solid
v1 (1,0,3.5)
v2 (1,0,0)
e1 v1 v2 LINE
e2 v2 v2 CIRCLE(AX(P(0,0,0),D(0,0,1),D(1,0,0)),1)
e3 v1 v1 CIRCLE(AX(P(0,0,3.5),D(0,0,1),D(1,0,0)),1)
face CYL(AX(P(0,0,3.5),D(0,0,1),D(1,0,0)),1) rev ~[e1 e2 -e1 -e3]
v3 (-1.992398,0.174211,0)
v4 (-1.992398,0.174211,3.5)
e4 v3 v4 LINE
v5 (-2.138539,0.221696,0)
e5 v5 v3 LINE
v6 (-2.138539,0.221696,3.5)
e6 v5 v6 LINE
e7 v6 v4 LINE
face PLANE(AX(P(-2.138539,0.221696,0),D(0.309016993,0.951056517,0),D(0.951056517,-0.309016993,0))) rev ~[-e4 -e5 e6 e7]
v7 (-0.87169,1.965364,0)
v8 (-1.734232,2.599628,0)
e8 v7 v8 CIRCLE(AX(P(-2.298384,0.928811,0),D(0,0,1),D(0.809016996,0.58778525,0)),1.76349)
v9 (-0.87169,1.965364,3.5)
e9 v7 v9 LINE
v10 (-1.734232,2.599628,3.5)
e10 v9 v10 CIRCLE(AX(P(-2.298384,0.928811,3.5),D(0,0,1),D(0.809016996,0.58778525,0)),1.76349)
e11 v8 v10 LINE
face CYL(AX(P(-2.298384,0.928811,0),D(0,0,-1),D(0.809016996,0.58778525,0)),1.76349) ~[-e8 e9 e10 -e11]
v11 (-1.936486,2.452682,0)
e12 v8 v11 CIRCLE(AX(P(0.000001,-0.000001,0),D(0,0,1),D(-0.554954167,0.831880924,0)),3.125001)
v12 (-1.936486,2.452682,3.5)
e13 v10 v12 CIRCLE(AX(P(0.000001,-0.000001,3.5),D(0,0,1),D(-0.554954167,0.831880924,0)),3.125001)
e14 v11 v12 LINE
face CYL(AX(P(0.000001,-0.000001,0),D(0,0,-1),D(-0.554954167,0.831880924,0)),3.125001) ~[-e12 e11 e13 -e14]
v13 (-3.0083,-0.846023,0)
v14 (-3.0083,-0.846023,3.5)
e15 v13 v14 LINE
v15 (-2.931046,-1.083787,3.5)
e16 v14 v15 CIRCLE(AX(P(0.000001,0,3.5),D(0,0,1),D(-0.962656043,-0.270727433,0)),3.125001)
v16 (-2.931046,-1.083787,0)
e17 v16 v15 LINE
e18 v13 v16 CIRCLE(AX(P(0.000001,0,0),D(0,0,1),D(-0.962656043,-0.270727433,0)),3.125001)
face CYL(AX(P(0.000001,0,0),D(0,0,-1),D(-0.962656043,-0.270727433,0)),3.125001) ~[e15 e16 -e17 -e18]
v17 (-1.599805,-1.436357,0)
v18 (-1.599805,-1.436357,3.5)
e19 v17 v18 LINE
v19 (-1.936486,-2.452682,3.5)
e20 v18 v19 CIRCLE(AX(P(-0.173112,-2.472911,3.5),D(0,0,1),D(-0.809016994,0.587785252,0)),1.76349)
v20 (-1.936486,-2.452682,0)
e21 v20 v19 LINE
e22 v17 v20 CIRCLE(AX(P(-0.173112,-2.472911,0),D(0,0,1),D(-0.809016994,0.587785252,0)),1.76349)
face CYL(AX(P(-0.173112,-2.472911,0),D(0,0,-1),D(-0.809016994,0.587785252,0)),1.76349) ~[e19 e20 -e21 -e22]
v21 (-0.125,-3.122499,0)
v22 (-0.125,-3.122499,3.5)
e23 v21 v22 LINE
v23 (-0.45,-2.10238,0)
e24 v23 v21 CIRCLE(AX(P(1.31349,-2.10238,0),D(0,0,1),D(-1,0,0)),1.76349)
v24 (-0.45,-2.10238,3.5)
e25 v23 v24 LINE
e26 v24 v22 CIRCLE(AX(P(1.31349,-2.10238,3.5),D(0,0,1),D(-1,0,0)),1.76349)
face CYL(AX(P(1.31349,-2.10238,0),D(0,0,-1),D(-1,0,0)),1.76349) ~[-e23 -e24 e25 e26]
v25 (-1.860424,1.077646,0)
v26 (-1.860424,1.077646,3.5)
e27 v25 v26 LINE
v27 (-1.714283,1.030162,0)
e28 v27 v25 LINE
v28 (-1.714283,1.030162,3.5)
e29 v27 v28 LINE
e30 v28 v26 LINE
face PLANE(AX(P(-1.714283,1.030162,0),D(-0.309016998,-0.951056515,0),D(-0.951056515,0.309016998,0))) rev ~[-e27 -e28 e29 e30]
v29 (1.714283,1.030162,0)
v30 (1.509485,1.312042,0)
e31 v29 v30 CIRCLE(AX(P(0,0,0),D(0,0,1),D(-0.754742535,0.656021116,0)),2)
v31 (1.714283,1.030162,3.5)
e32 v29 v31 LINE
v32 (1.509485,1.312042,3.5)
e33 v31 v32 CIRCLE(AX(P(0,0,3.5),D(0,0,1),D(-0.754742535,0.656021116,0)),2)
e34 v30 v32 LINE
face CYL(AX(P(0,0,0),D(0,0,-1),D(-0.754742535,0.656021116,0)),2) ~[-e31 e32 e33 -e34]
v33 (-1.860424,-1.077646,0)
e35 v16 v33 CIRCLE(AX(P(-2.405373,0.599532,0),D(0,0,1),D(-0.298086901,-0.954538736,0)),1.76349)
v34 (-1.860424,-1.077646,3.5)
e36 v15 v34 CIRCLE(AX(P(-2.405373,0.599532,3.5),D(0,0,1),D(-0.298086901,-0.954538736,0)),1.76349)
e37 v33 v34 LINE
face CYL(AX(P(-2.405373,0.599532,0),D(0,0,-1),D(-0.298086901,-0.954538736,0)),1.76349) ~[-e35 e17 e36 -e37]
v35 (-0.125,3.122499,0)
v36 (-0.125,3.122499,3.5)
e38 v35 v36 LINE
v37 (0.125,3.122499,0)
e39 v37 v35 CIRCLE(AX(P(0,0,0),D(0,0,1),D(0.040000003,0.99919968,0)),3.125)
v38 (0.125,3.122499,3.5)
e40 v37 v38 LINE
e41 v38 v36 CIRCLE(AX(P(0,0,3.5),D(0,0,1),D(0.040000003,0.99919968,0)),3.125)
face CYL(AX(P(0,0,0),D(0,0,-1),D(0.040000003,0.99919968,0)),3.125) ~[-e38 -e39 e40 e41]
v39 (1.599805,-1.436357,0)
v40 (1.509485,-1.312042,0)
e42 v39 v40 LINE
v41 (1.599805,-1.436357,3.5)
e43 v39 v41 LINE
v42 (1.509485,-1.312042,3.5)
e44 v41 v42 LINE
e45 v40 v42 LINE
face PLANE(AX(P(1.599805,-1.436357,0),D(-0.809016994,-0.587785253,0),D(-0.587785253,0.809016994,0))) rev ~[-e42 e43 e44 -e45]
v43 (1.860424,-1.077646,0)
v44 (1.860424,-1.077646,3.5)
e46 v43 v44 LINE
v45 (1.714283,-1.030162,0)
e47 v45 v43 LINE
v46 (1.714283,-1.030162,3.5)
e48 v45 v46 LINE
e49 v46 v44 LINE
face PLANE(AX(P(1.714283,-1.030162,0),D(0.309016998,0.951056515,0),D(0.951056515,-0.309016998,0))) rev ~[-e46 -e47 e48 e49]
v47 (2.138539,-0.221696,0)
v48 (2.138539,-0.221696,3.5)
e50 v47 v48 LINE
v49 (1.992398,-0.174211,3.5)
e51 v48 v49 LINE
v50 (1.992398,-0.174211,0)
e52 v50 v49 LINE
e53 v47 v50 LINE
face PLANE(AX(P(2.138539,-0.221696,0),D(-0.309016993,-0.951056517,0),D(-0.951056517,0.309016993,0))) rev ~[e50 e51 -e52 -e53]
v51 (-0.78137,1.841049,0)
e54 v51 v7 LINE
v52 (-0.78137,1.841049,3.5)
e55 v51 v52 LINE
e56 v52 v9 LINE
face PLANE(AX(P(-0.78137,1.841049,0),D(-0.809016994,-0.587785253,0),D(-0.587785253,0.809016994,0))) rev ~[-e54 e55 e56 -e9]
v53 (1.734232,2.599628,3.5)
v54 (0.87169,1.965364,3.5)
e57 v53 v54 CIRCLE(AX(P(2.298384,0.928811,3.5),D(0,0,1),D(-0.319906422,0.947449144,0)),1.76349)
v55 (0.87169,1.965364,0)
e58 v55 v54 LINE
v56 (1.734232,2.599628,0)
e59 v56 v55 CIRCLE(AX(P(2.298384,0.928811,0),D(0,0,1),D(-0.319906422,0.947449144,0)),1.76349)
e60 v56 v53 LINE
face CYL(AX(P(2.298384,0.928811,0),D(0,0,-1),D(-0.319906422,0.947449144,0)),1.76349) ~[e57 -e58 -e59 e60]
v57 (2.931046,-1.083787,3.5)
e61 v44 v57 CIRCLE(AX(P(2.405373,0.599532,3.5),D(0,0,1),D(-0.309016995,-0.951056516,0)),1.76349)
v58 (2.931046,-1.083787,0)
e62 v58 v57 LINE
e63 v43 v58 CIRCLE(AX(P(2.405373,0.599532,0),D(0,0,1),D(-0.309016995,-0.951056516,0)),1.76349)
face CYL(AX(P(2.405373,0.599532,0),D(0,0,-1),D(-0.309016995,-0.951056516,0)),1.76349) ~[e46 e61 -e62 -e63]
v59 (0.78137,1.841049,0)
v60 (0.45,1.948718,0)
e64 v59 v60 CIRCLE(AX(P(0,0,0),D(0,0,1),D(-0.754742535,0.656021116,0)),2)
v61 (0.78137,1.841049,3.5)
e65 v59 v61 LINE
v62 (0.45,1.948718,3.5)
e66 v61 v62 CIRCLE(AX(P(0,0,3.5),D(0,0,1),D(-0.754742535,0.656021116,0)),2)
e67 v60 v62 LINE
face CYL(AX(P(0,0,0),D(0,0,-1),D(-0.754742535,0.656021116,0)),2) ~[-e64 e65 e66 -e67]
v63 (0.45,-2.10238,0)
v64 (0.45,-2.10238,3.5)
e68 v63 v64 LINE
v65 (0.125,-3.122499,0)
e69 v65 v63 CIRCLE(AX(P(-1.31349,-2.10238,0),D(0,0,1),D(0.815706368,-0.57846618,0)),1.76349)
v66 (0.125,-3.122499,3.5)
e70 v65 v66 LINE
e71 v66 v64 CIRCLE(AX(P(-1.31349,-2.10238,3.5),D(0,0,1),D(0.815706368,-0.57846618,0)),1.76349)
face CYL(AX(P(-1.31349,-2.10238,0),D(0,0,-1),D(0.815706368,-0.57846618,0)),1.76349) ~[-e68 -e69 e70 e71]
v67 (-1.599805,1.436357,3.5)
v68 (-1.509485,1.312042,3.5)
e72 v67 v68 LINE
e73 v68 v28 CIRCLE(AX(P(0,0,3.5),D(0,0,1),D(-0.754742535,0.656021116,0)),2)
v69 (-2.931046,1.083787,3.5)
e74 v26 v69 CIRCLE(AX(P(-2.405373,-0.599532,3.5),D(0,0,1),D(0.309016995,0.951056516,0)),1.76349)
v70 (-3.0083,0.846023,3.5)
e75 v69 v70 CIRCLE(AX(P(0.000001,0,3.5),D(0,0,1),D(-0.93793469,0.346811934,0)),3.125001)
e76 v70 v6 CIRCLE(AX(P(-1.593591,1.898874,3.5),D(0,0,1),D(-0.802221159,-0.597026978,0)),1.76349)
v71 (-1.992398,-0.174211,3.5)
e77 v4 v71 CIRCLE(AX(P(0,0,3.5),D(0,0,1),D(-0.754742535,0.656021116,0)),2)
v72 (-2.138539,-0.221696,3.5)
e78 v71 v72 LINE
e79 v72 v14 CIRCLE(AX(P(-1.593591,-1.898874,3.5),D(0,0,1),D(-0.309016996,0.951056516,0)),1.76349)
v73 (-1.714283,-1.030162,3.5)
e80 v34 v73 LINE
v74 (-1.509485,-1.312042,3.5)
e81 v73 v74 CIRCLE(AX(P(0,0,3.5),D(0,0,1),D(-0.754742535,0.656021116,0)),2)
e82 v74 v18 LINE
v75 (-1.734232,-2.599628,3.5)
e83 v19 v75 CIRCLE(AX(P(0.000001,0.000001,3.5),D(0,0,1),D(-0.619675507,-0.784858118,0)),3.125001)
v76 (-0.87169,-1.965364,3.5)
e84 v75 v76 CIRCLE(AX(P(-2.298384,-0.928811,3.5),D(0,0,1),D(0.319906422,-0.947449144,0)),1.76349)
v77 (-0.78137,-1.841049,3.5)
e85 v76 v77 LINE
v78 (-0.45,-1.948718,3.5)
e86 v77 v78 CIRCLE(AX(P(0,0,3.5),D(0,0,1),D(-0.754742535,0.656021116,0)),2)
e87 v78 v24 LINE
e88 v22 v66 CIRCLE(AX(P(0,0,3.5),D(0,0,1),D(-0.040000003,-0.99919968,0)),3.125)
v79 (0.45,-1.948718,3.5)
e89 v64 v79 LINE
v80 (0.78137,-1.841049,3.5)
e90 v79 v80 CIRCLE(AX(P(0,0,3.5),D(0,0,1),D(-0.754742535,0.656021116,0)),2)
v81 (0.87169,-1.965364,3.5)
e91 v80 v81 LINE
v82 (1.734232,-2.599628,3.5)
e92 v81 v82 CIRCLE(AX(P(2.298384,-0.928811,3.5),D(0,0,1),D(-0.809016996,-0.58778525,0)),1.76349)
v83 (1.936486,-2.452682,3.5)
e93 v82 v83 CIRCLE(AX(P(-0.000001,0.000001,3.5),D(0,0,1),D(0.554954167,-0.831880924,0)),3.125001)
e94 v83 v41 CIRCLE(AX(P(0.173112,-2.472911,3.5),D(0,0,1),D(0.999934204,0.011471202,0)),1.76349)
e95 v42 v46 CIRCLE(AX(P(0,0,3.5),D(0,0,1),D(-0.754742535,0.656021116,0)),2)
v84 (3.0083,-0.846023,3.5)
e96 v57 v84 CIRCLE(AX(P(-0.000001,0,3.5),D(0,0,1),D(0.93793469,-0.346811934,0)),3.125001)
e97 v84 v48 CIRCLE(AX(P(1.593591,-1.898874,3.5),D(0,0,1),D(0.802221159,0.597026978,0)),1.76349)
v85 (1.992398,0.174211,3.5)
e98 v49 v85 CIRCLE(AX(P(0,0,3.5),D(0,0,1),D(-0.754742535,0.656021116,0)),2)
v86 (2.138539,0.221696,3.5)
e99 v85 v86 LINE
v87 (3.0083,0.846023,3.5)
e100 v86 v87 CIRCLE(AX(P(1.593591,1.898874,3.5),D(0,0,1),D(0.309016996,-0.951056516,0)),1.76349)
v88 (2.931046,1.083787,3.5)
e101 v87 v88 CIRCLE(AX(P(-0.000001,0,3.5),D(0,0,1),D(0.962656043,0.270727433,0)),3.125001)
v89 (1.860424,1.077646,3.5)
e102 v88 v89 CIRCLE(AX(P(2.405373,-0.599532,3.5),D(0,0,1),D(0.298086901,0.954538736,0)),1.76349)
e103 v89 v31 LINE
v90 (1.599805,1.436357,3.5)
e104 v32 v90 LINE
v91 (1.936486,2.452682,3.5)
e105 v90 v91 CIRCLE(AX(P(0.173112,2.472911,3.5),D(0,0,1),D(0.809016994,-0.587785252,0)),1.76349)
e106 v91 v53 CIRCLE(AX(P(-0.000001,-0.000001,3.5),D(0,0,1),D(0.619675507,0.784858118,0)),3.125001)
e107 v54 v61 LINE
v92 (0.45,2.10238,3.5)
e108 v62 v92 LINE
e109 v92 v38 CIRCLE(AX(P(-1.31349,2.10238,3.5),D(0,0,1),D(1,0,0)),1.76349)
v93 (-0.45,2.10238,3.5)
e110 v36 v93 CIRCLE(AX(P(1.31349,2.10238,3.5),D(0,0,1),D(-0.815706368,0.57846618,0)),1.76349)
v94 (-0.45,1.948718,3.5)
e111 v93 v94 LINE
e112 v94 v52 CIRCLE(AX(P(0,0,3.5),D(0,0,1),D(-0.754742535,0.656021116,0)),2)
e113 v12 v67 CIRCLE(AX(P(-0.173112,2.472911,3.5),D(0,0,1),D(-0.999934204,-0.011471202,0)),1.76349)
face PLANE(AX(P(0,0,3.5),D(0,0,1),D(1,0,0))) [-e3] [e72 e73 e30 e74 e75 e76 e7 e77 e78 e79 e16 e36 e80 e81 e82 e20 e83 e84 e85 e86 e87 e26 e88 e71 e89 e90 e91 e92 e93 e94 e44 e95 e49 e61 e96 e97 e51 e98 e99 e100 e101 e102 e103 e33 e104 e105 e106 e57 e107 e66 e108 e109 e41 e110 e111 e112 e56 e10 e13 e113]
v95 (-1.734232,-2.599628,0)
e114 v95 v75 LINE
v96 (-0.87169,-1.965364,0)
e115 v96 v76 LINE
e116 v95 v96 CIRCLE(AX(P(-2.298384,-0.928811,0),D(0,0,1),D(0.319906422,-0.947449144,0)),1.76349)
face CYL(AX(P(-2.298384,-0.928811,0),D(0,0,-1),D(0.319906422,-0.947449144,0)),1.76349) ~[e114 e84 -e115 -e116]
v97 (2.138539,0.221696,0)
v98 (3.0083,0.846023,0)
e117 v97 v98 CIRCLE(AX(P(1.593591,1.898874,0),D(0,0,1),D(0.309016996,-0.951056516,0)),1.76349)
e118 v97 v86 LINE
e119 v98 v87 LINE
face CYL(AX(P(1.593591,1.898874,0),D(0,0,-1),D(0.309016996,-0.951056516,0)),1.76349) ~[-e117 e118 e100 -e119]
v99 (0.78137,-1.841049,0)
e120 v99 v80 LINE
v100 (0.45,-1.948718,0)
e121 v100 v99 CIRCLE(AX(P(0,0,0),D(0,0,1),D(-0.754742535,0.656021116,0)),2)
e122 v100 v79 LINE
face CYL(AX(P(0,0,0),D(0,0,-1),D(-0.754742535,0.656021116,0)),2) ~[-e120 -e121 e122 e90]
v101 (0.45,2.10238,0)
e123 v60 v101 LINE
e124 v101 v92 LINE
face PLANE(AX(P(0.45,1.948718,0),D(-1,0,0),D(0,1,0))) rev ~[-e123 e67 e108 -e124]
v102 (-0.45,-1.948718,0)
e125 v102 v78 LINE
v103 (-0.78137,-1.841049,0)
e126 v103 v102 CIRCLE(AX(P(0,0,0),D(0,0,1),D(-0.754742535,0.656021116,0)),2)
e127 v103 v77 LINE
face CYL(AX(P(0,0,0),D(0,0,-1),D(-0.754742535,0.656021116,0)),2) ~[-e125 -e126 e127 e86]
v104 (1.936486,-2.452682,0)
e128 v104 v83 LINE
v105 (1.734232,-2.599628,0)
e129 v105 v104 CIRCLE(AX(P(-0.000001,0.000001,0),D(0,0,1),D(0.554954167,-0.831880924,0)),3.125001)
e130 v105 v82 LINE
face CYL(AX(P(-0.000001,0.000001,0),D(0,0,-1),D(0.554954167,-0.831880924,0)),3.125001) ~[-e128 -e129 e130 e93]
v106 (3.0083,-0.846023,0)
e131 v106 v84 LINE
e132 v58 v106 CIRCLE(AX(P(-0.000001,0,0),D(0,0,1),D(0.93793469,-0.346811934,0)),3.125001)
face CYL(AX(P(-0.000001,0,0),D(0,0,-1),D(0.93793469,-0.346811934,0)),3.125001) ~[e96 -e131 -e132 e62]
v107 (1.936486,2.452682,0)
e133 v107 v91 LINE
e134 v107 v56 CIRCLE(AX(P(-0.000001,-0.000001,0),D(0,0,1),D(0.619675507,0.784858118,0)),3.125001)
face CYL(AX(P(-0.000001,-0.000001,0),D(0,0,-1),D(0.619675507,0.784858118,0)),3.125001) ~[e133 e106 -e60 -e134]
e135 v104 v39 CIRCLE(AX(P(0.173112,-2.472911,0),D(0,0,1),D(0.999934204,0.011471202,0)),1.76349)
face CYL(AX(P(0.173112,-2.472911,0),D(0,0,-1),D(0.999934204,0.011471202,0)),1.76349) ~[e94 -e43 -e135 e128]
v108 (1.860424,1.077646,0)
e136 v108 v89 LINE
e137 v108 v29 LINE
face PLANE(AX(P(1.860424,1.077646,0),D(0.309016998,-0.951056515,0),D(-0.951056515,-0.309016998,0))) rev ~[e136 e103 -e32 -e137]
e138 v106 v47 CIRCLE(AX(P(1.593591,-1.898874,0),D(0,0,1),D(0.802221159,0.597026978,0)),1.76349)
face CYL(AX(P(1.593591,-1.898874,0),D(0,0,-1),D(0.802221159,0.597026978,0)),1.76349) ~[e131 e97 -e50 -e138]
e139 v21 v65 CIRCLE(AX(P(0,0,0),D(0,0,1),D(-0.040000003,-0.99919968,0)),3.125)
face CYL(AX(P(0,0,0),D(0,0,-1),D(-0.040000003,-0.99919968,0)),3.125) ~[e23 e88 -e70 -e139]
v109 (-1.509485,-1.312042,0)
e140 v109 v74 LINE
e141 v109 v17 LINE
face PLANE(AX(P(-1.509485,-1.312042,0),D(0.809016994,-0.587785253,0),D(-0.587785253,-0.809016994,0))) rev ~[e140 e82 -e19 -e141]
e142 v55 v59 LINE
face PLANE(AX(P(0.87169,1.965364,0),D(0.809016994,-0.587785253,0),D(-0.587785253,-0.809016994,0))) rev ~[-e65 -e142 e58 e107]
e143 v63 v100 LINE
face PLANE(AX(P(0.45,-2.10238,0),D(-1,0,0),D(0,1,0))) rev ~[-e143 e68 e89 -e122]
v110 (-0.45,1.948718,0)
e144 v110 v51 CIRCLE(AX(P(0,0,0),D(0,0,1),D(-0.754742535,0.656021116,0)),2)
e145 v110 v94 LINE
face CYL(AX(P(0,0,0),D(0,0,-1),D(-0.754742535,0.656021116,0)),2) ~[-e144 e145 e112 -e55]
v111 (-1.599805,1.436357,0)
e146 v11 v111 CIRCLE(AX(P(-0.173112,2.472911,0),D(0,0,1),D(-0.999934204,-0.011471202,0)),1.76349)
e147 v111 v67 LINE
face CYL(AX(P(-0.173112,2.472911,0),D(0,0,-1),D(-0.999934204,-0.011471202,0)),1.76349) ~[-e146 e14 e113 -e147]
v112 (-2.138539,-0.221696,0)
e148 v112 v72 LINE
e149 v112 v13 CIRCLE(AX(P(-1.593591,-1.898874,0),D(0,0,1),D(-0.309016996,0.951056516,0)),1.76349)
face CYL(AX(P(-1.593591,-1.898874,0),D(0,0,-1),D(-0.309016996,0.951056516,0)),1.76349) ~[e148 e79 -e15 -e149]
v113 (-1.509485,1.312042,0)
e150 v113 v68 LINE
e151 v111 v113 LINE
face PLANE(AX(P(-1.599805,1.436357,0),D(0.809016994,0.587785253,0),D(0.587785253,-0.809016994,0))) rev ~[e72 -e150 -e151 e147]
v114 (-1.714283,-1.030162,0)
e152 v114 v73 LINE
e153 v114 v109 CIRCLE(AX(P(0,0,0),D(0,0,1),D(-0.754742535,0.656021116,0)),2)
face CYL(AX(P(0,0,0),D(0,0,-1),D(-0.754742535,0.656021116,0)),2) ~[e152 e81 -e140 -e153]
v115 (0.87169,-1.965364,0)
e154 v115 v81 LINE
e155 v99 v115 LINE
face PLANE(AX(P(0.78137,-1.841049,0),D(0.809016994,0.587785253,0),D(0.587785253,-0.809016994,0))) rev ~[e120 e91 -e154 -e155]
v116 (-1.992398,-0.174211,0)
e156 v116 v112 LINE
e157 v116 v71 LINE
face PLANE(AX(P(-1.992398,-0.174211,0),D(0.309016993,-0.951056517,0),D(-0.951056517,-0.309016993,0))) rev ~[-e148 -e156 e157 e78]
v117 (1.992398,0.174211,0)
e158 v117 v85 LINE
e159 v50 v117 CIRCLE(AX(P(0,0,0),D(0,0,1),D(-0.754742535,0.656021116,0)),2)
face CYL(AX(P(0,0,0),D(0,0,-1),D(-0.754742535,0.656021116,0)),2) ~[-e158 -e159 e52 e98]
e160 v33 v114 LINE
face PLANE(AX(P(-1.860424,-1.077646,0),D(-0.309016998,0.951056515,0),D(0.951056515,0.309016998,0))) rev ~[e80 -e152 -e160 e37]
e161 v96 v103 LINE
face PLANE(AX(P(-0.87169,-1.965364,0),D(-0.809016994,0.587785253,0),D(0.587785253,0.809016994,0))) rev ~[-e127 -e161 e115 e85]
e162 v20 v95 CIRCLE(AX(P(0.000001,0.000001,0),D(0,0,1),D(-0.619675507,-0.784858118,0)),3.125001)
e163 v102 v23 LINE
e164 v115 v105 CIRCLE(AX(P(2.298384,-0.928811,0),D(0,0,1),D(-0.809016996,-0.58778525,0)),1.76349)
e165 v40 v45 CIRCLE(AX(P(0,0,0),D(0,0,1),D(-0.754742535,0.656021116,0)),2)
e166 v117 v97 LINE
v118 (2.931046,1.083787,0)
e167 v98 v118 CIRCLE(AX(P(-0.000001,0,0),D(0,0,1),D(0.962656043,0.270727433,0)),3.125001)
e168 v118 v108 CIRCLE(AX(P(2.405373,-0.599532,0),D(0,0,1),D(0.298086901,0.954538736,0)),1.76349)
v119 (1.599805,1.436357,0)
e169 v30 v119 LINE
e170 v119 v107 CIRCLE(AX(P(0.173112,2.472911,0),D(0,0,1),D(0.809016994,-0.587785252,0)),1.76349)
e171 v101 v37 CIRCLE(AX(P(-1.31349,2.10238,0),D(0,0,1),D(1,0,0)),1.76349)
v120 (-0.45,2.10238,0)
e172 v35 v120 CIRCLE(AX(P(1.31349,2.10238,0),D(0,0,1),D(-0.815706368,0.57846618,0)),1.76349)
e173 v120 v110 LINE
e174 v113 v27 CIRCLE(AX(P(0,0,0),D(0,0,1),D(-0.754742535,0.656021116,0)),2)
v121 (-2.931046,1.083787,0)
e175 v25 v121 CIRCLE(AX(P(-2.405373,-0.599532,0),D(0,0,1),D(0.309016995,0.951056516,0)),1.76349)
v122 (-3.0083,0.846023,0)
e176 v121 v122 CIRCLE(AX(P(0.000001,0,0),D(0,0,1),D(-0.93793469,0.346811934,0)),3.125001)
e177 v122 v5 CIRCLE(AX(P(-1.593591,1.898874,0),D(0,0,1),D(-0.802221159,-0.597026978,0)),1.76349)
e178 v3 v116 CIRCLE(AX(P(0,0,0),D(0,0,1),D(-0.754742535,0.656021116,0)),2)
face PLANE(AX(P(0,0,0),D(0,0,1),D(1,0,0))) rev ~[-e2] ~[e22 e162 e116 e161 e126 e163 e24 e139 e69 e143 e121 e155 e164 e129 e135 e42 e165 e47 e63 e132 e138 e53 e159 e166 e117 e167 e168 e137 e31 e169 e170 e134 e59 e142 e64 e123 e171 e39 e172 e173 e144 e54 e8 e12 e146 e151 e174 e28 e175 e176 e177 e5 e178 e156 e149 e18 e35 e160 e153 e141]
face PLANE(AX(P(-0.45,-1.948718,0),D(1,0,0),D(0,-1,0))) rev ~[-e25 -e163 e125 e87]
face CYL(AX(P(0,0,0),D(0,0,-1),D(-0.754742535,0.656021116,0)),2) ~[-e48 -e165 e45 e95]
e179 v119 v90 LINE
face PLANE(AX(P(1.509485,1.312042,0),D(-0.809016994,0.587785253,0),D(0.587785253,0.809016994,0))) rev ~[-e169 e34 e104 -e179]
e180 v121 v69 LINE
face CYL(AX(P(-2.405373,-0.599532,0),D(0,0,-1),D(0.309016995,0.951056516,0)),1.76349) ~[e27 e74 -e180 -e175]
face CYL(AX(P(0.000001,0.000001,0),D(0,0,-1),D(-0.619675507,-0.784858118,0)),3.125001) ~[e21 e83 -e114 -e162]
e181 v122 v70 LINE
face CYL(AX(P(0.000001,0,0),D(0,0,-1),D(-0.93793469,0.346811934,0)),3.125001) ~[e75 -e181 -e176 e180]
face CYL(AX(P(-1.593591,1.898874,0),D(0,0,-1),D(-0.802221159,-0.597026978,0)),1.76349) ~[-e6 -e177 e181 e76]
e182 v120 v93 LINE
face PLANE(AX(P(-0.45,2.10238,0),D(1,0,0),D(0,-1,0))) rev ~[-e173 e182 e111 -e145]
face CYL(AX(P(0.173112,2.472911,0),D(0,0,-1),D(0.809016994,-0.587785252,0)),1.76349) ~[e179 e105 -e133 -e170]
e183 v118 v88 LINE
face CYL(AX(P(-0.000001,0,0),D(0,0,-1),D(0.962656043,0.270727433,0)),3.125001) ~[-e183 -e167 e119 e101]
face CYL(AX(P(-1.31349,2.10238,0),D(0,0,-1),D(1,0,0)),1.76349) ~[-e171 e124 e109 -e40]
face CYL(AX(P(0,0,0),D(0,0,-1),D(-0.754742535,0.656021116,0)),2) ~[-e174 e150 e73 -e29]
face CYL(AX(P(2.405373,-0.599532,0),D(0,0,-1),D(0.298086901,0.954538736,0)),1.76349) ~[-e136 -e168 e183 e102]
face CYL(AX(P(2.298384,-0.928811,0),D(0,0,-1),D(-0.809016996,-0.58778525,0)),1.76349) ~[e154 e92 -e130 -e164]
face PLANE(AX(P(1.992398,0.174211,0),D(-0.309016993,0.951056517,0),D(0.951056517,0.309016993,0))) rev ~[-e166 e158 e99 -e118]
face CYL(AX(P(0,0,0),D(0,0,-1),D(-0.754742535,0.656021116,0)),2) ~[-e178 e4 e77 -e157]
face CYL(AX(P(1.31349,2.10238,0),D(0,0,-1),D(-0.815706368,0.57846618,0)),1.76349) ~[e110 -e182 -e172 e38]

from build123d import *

# Parameters (mm, degrees)
ESBO_O1_R                = 2
RESSALTO_EXTRUS_O1_DEPTH = 3.5
ESBO_O2_R                = 1
CORTE_EXTRUS_O1_DEPTH    = 6.573642863


with BuildPart() as part:
    # Esboço1 → Ressalto-extrusão1 (new body)
    with BuildSketch(Plane.XY):
        Circle(ESBO_O1_R)
        with BuildLine():
            ThreePointArc((-1.509485071, 1.312042233), (-1.175570505, 1.618033989), (-0.781369776, 1.84104896))
            Line((-0.781369776, 1.84104896), (-0.871690079, 1.965364192))
            ThreePointArc((-0.871690079, 1.965364192), (-1.253664041, 2.349535361), (-1.734231738, 2.599627912))
            ThreePointArc((-1.734231738, 2.599627912), (-1.836828913, 2.528178107), (-1.936485986, 2.452681599))
            ThreePointArc((-1.936485986, 2.452681599), (-1.847137421, 1.918351711), (-1.599805374, 1.436357465))
            Line((-1.599805374, 1.436357465), (-1.509485071, 1.312042233))
        make_face()
        with BuildLine():
            ThreePointArc((-0.45, 1.948717527), (0, 2), (0.45, 1.948717527))
            Line((0.45, 1.948717527), (0.45, 2.102379604))
            ThreePointArc((0.45, 2.102379604), (0.36678672, 2.63769927), (0.125, 3.122498999))
            ThreePointArc((0.125, 3.122498999), (0, 3.125), (-0.125, 3.122498999))
            ThreePointArc((-0.125, 3.122498999), (-0.36678672, 2.63769927), (-0.45, 2.102379604))
            Line((-0.45, 2.102379604), (-0.45, 1.948717527))
        make_face()
        with BuildLine():
            Line((0.871690079, 1.965364192), (0.781369776, 1.84104896))
            ThreePointArc((0.781369776, 1.84104896), (1.175570505, 1.618033989), (1.509485071, 1.312042233))
            Line((1.509485071, 1.312042233), (1.599805374, 1.436357465))
            ThreePointArc((1.599805374, 1.436357465), (1.847137421, 1.918351711), (1.936485986, 2.452681599))
            ThreePointArc((1.936485986, 2.452681599), (1.836828913, 2.528178107), (1.734231738, 2.599627912))
            ThreePointArc((1.734231738, 2.599627912), (1.253664041, 2.349535361), (0.871690079, 1.965364192))
        make_face()
        with BuildLine():
            Line((1.860424175, 1.077646459), (1.714282855, 1.030162265))
            ThreePointArc((1.714282855, 1.030162265), (1.902113033, 0.618033989), (1.99239815, 0.174211401))
            Line((1.99239815, 0.174211401), (2.13853947, 0.221695594))
            ThreePointArc((2.13853947, 0.221695594), (2.621944409, 0.466259001), (3.008300145, 0.846023191))
            ThreePointArc((3.008300145, 0.846023191), (2.972051613, 0.965678107), (2.931045896, 1.08378732))
            ThreePointArc((2.931045896, 1.08378732), (2.395257749, 1.163928801), (1.860424175, 1.077646459))
        make_face()
        with BuildLine():
            Line((2.13853947, -0.221695594), (1.99239815, -0.174211401))
            ThreePointArc((1.99239815, -0.174211401), (1.902113033, -0.618033989), (1.714282855, -1.030162265))
            Line((1.714282855, -1.030162265), (1.860424175, -1.077646459))
            ThreePointArc((1.860424175, -1.077646459), (2.395257749, -1.163928801), (2.931045896, -1.08378732))
            ThreePointArc((2.931045896, -1.08378732), (2.972051613, -0.965678107), (3.008300145, -0.846023191))
            ThreePointArc((3.008300145, -0.846023191), (2.621944409, -0.466259001), (2.13853947, -0.221695594))
        make_face()
        with BuildLine():
            Line((1.599805374, -1.436357465), (1.509485071, -1.312042233))
            ThreePointArc((1.509485071, -1.312042233), (1.175570505, -1.618033989), (0.781369776, -1.84104896))
            Line((0.781369776, -1.84104896), (0.871690079, -1.965364192))
            ThreePointArc((0.871690079, -1.965364192), (1.253664041, -2.349535361), (1.734231738, -2.599627912))
            ThreePointArc((1.734231738, -2.599627912), (1.836828913, -2.528178107), (1.936485986, -2.452681599))
            ThreePointArc((1.936485986, -2.452681599), (1.847137421, -1.918351711), (1.599805374, -1.436357465))
        make_face()
        with BuildLine():
            Line((0.45, -2.102379604), (0.45, -1.948717527))
            ThreePointArc((0.45, -1.948717527), (0, -2), (-0.45, -1.948717527))
            Line((-0.45, -1.948717527), (-0.45, -2.102379604))
            ThreePointArc((-0.45, -2.102379604), (-0.36678672, -2.63769927), (-0.125, -3.122498999))
            ThreePointArc((-0.125, -3.122498999), (0, -3.125), (0.125, -3.122498999))
            ThreePointArc((0.125, -3.122498999), (0.36678672, -2.63769927), (0.45, -2.102379604))
        make_face()
        with BuildLine():
            ThreePointArc((-0.781369776, -1.84104896), (-1.175570505, -1.618033989), (-1.509485071, -1.312042233))
            Line((-1.509485071, -1.312042233), (-1.599805374, -1.436357465))
            ThreePointArc((-1.599805374, -1.436357465), (-1.847137421, -1.918351711), (-1.936485986, -2.452681599))
            ThreePointArc((-1.936485986, -2.452681599), (-1.836828913, -2.528178107), (-1.734231738, -2.599627912))
            ThreePointArc((-1.734231738, -2.599627912), (-1.253664041, -2.349535361), (-0.871690079, -1.965364192))
            Line((-0.871690079, -1.965364192), (-0.781369776, -1.84104896))
        make_face()
        with BuildLine():
            ThreePointArc((-1.714282855, -1.030162265), (-1.902113033, -0.618033989), (-1.99239815, -0.174211401))
            Line((-1.99239815, -0.174211401), (-2.13853947, -0.221695594))
            ThreePointArc((-2.13853947, -0.221695594), (-2.621944409, -0.466259001), (-3.008300145, -0.846023191))
            ThreePointArc((-3.008300145, -0.846023191), (-2.972051613, -0.965678107), (-2.931045896, -1.08378732))
            ThreePointArc((-2.931045896, -1.08378732), (-2.395257749, -1.163928801), (-1.860424175, -1.077646459))
            Line((-1.860424175, -1.077646459), (-1.714282855, -1.030162265))
        make_face()
        with BuildLine():
            ThreePointArc((-1.99239815, 0.174211401), (-1.902113033, 0.618033989), (-1.714282855, 1.030162265))
            Line((-1.714282855, 1.030162265), (-1.860424175, 1.077646459))
            ThreePointArc((-1.860424175, 1.077646459), (-2.395257749, 1.163928801), (-2.931045896, 1.08378732))
            ThreePointArc((-2.931045896, 1.08378732), (-2.972051613, 0.965678107), (-3.008300145, 0.846023191))
            ThreePointArc((-3.008300145, 0.846023191), (-2.621944409, 0.466259001), (-2.13853947, 0.221695594))
            Line((-2.13853947, 0.221695594), (-1.99239815, 0.174211401))
        make_face()
    extrude(amount=RESSALTO_EXTRUS_O1_DEPTH)

    # Esboço2 → Corte-extrusão1 (cut, through all)
    with BuildSketch(Plane.XY.offset(3.5)):
        Circle(ESBO_O2_R)
    extrude(amount=-CORTE_EXTRUS_O1_DEPTH, mode=Mode.SUBTRACT)


solid = part.part
